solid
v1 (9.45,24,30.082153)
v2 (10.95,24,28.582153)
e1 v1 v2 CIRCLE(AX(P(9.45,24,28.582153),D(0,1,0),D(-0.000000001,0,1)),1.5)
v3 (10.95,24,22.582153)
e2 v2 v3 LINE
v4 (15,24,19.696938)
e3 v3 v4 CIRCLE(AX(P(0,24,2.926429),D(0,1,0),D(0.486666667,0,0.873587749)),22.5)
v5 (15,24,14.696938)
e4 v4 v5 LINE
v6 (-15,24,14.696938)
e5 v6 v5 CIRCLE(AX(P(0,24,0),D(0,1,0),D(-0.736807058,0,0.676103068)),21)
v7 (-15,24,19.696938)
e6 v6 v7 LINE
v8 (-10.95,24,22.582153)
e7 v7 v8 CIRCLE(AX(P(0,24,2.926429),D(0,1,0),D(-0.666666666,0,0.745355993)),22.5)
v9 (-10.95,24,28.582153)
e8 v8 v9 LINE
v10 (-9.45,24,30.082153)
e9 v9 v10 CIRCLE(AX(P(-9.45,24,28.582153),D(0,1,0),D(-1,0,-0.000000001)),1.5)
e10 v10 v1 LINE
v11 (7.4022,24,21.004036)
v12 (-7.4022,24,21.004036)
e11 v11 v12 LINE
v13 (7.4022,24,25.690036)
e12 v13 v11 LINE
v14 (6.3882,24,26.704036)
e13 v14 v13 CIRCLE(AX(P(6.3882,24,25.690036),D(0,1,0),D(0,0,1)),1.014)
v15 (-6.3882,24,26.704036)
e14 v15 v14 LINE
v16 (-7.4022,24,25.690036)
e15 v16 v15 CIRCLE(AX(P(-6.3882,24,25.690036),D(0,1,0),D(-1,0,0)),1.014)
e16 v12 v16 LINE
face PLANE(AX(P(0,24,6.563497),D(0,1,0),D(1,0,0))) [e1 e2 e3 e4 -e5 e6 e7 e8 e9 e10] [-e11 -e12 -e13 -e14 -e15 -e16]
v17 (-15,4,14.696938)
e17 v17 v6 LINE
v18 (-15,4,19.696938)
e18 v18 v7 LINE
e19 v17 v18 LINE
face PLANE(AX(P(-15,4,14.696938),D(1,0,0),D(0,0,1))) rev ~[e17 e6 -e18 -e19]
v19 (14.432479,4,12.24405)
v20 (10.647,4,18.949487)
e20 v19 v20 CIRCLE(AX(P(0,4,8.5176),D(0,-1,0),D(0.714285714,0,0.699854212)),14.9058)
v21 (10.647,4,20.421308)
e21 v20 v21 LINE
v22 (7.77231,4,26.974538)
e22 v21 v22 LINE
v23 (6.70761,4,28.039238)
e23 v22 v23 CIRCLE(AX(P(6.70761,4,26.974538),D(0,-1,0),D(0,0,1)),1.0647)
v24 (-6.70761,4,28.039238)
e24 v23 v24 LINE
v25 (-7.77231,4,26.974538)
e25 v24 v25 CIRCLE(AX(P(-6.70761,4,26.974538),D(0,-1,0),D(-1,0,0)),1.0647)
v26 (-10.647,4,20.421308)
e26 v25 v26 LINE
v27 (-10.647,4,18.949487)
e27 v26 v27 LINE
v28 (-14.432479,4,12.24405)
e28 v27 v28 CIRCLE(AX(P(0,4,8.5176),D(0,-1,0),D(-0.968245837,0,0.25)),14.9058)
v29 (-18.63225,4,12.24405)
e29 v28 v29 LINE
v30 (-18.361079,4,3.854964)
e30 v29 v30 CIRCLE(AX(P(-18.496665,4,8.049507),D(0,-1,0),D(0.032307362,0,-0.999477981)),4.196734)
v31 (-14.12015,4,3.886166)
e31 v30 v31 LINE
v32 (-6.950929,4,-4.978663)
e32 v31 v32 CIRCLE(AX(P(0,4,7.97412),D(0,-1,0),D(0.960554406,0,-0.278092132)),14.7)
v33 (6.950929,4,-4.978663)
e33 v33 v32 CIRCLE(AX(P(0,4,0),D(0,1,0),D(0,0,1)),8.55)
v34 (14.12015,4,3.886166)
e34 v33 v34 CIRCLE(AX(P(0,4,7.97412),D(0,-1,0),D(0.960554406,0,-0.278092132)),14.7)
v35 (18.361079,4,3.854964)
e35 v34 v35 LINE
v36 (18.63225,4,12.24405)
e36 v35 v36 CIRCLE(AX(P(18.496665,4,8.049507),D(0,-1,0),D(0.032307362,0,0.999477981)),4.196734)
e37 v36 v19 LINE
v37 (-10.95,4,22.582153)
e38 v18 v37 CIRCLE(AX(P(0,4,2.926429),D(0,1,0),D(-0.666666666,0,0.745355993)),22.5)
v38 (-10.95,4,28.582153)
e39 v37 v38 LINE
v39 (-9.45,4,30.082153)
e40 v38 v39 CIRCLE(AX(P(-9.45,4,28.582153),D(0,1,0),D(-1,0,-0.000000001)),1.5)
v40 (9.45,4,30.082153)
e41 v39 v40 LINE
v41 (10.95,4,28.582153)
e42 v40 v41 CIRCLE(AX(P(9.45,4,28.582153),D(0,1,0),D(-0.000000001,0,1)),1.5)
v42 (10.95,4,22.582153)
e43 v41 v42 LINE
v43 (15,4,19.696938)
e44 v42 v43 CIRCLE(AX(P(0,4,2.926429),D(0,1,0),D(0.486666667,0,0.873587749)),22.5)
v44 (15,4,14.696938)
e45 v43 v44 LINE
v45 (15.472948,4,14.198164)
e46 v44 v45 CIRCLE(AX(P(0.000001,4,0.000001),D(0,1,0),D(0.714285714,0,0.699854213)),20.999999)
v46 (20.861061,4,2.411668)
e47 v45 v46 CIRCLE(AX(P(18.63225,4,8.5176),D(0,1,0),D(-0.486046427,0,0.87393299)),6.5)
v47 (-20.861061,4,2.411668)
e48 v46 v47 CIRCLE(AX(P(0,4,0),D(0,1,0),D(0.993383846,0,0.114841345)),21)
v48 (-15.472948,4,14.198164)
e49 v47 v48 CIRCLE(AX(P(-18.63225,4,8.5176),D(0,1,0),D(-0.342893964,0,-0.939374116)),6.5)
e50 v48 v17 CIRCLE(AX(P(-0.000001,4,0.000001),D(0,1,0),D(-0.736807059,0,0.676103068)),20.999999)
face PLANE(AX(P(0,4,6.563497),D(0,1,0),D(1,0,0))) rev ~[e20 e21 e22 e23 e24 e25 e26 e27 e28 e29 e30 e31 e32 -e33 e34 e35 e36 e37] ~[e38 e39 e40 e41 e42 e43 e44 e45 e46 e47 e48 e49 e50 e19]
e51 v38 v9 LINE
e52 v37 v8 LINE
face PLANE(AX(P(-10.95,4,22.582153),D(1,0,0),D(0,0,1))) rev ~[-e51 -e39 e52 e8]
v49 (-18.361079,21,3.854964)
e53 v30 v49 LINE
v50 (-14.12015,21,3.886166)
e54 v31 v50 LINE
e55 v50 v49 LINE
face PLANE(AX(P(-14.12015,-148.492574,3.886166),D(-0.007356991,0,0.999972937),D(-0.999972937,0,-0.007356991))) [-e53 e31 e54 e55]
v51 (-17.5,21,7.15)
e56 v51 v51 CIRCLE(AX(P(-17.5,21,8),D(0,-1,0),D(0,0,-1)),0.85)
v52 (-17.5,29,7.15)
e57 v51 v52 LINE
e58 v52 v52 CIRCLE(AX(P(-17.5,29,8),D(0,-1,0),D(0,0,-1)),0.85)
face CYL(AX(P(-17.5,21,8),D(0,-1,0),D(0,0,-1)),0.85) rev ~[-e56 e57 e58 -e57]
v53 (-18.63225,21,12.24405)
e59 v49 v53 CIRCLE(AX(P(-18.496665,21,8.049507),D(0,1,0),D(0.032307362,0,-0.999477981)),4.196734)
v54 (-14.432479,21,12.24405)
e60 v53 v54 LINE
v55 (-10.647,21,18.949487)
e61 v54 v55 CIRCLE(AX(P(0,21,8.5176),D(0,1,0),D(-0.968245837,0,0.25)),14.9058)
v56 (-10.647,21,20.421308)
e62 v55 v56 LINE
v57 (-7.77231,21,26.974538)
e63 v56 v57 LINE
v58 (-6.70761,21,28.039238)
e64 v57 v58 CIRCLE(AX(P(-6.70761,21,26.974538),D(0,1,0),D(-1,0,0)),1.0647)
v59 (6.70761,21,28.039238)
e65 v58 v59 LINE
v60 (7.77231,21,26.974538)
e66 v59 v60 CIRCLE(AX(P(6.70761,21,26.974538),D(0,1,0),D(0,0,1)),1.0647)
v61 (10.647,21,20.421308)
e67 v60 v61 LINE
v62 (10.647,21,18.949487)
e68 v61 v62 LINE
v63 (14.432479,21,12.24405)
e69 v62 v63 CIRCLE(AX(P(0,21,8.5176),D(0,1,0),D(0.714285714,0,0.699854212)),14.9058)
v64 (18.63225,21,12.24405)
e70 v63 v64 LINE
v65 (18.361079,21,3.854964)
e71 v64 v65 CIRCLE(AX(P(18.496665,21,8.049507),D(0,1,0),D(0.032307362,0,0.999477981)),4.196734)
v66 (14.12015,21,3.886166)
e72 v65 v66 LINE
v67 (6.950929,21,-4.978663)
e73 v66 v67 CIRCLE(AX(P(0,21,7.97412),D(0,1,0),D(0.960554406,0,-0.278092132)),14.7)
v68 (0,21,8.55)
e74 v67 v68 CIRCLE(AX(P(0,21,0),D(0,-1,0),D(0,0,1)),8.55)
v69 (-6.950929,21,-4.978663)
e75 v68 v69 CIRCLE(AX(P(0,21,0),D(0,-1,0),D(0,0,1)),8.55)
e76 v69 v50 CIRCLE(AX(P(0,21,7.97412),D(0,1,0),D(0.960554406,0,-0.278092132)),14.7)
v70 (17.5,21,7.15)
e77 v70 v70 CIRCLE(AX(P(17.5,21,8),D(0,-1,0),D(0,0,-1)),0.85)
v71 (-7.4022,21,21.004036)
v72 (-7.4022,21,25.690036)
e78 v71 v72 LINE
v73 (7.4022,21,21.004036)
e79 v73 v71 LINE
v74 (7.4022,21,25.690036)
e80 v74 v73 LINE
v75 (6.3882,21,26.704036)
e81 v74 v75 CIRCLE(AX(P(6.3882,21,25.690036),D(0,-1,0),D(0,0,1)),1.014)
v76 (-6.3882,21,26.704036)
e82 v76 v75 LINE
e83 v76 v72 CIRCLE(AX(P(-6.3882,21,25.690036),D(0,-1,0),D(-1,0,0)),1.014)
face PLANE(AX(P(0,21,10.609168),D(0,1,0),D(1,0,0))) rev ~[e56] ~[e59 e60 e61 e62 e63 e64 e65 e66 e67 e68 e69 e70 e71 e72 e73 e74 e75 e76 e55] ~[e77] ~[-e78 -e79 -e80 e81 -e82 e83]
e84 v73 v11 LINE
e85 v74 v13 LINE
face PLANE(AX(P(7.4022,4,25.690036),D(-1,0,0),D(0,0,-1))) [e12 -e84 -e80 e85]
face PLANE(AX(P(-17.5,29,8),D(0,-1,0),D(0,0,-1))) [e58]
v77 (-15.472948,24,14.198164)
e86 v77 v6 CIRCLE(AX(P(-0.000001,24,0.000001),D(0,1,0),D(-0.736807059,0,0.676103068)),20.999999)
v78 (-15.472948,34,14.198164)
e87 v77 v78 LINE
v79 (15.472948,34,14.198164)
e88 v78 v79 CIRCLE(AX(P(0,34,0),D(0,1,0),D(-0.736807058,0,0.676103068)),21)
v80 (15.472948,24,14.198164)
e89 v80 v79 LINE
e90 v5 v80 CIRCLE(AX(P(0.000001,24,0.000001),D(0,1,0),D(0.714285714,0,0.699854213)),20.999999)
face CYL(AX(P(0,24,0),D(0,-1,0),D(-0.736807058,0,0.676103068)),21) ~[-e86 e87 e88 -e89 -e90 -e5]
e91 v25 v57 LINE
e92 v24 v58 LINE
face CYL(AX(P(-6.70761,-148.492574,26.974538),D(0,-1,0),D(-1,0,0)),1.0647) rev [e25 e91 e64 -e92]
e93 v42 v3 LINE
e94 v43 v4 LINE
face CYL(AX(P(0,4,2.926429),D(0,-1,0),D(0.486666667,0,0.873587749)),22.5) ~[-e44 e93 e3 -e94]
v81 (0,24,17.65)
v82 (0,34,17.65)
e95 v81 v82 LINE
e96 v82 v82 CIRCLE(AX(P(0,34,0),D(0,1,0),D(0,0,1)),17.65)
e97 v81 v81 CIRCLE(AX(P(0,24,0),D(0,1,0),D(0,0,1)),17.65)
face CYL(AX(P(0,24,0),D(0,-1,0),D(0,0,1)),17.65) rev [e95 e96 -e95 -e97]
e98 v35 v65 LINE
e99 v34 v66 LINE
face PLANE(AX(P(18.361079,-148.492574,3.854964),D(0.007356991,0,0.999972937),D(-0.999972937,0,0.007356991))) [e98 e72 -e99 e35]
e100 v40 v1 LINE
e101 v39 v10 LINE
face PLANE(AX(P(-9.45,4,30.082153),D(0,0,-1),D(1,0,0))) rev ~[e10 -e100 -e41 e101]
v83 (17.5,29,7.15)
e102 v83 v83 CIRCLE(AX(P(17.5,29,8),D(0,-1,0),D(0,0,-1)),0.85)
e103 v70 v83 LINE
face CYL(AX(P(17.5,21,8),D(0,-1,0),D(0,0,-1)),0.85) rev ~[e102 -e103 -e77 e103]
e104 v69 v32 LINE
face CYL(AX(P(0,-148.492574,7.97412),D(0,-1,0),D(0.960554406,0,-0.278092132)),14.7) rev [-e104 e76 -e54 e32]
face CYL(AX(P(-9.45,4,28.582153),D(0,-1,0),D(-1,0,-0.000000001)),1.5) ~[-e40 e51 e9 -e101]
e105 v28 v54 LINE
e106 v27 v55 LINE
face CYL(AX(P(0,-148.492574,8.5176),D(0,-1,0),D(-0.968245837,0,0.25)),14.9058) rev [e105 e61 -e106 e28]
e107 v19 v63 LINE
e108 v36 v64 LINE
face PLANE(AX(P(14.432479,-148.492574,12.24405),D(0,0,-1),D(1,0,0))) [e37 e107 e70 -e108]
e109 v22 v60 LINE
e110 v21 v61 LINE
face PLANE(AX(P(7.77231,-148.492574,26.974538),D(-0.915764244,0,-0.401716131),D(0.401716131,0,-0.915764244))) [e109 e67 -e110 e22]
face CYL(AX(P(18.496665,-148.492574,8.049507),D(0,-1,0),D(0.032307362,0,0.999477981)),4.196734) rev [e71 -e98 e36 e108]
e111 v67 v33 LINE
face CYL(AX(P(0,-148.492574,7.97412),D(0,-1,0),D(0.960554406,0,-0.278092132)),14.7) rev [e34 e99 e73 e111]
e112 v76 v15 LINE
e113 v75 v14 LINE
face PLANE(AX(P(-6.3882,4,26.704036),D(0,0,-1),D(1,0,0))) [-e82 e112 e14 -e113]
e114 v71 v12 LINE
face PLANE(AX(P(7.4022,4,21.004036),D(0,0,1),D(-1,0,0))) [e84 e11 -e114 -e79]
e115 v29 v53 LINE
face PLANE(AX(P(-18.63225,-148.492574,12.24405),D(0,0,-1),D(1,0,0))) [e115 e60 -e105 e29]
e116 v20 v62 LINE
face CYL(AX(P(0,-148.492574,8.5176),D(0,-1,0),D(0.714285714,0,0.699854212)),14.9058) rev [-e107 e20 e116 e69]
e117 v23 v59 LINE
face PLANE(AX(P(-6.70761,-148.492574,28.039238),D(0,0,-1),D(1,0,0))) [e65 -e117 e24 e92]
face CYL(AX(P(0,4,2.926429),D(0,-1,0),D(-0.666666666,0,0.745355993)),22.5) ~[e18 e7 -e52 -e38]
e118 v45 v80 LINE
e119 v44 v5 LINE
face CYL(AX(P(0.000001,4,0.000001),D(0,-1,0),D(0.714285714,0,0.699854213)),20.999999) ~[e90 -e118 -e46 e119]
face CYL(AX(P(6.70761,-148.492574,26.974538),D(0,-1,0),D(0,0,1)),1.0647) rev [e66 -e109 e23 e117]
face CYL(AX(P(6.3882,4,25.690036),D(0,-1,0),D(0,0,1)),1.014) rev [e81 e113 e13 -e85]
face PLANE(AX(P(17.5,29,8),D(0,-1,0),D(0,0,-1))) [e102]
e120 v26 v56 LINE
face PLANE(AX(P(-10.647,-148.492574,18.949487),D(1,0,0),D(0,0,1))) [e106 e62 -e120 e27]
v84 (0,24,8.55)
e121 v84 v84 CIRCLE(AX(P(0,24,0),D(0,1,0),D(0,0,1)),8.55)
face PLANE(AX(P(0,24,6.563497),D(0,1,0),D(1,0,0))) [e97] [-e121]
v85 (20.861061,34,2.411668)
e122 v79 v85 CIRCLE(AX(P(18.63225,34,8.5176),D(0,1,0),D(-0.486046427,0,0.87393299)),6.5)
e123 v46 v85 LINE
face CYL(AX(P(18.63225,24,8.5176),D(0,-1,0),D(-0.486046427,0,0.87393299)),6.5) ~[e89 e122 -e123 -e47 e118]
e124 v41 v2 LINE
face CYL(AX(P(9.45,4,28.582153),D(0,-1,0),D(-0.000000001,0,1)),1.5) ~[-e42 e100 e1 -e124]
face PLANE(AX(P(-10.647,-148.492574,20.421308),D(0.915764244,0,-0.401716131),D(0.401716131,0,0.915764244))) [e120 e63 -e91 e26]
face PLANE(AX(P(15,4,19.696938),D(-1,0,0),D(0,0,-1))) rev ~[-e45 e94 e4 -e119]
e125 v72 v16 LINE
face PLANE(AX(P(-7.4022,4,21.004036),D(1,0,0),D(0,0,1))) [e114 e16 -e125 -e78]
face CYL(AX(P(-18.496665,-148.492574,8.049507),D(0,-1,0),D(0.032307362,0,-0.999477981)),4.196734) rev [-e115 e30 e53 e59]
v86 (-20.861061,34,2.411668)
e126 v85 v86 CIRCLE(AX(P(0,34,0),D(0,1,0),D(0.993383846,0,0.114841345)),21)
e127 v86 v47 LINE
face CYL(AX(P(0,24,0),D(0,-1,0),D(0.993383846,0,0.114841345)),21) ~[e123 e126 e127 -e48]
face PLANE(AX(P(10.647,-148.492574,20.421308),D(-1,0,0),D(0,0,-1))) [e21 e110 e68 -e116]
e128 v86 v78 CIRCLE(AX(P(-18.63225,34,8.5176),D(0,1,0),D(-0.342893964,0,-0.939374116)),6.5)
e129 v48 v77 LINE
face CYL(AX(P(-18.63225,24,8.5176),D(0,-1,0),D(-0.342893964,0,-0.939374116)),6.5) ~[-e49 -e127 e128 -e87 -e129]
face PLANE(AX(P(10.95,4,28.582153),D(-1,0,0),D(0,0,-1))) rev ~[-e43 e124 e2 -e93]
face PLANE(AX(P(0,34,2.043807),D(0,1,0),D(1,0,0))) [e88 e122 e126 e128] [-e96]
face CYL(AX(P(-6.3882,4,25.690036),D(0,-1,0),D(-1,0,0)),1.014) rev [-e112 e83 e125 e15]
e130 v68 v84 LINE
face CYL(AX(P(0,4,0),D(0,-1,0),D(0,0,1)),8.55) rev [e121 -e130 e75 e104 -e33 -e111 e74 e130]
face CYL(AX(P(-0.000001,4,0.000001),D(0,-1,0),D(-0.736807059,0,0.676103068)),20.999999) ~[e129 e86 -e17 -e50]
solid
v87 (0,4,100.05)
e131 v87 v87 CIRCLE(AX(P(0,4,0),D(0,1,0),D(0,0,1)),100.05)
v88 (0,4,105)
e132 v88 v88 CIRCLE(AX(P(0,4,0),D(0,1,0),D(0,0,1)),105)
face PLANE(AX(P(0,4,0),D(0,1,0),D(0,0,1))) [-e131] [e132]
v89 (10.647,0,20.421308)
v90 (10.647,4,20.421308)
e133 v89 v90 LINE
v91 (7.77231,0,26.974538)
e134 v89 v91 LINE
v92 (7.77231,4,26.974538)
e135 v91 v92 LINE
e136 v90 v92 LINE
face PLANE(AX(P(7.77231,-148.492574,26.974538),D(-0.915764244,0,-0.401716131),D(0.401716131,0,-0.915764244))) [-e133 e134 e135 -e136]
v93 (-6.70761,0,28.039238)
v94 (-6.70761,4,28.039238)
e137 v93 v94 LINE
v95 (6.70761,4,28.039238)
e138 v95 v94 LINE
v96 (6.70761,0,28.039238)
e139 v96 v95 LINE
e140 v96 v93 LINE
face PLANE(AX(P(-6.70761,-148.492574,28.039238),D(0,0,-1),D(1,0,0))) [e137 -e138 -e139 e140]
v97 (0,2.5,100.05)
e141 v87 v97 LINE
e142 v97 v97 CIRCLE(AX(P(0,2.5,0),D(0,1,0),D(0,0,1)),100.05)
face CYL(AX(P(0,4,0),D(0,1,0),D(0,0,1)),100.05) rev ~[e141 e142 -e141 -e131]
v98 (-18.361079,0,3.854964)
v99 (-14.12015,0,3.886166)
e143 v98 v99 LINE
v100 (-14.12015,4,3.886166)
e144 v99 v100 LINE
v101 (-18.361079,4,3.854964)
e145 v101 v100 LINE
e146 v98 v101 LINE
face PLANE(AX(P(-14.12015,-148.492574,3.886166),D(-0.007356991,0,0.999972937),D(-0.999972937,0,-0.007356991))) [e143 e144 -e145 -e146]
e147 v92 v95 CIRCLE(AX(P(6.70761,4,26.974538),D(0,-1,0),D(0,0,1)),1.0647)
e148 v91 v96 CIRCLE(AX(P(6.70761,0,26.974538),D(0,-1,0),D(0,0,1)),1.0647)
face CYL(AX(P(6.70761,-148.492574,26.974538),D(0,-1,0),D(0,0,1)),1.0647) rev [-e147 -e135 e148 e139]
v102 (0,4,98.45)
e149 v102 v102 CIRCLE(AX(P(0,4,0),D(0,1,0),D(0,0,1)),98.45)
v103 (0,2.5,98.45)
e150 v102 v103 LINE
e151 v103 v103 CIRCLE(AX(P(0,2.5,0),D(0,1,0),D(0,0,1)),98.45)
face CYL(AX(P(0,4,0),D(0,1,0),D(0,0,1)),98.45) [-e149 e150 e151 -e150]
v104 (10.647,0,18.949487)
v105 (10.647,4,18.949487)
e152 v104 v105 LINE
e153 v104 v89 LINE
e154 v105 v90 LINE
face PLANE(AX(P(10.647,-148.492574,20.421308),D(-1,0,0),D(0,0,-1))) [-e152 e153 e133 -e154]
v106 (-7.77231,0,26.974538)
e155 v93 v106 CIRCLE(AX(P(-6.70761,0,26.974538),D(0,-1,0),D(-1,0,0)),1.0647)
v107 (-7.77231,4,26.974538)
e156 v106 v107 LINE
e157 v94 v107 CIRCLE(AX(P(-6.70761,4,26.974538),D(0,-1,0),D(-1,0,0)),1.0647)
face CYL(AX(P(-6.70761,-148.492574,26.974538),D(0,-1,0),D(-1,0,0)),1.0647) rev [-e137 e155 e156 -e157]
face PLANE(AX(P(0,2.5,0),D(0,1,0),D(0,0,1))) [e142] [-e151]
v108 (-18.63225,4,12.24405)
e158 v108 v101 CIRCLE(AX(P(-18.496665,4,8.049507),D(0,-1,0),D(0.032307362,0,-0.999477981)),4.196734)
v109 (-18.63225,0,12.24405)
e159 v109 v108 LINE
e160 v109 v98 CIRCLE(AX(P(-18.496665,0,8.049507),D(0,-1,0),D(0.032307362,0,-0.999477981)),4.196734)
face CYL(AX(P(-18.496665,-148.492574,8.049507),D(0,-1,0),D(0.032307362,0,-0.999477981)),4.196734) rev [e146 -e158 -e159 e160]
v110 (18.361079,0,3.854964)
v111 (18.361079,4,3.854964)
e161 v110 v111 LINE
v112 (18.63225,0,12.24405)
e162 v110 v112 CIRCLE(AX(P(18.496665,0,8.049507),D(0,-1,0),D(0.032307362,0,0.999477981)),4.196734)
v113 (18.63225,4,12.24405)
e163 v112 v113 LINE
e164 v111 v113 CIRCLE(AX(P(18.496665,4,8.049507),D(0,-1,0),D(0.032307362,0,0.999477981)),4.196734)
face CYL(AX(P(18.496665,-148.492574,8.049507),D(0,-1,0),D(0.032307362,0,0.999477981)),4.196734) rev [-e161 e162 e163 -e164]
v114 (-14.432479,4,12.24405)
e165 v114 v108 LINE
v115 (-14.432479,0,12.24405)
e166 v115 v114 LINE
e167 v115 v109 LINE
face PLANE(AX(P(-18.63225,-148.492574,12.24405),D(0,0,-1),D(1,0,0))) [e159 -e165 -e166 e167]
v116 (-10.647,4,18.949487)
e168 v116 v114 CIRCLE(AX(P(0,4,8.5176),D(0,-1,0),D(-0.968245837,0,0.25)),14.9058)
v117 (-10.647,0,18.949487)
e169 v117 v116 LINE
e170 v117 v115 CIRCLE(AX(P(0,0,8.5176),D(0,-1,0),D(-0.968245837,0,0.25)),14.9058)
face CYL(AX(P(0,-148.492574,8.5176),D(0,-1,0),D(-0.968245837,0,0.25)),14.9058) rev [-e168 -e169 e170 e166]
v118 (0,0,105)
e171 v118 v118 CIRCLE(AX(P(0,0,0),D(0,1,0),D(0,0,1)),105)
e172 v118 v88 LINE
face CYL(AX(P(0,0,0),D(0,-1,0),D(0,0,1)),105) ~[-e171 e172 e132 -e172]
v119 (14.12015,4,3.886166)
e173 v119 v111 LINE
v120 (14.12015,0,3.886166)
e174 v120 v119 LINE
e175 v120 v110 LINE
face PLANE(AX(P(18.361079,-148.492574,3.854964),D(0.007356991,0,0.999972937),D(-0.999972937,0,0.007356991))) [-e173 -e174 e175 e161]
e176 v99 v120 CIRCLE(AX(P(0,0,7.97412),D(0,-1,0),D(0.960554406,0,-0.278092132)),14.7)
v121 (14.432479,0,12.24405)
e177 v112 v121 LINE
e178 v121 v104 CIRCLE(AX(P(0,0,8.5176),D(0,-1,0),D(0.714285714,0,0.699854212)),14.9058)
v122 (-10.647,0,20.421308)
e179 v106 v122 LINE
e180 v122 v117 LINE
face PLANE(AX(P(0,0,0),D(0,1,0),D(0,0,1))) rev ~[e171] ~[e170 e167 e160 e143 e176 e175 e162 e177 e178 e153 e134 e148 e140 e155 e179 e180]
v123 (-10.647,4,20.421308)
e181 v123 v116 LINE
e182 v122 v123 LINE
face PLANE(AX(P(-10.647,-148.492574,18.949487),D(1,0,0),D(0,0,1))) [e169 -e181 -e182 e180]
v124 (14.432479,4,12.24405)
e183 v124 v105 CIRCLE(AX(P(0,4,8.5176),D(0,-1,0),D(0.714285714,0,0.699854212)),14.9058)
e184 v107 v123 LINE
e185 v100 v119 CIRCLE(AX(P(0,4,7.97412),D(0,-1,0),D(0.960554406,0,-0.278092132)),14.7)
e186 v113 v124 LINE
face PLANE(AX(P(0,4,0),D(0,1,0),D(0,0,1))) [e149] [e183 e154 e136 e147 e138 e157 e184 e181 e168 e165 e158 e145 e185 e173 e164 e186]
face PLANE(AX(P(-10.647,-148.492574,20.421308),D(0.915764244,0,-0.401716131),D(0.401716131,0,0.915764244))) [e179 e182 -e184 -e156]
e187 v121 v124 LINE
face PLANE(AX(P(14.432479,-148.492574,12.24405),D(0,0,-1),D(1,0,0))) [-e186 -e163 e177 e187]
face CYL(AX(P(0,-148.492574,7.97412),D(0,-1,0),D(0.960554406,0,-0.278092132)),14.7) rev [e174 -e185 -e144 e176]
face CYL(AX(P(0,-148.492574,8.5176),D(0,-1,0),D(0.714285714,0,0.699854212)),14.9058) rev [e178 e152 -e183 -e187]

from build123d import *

# Parameters (mm, degrees)
SKETCH1_R               = 105
BOSS_EXTRUDE1_DEPTH     = 4
SKETCH4_R               = 8.55
BOSS_EXTRUDE3_DEPTH     = 20
SKETCH5_R               = 17.65
BOSS_EXTRUDE4_DEPTH     = 10
CUT_EXTRUDE2_DEPTH      = 17
CUT_EXTRUDE2_DEPTH_BACK = 152.492574075
SKETCH14_R              = 100.05
SKETCH14_R_2            = 98.45
CUT_EXTRUDE3_DEPTH      = 1.5
SKETCH15_R              = 0.85
CUT_EXTRUDE4_DEPTH      = 8


with BuildPart() as part:
    # Sketch1 → Boss-Extrude1 (new body)
    with BuildSketch(Plane(origin=(0, 0, 0), x_dir=(1, 0, 0), z_dir=(0, 1, 0))):
        with Locations(Location((0, 0, 0), (0, 0, 270))):
            Circle(SKETCH1_R)
    extrude(amount=BOSS_EXTRUDE1_DEPTH)


with BuildPart() as body_2:
    # Sketch4 → Boss-Extrude3 (new body)
    with BuildSketch(Plane(origin=(0, 4, 0), x_dir=(1, 0, 0), z_dir=(0, 1, 0))):
        with BuildLine():
            Line((15, -19.696938457), (15, -14.696938457))
            ThreePointArc((15, -14.696938457), (15.238514929, -14.449486592), (15.472948223, -14.198164434))
            ThreePointArc((15.472948223, -14.198164434), (24.543834091, -11.220038442), (20.861060766, -2.411668247))
            ThreePointArc((20.861060766, -2.411668247), (0, 21), (-20.861060766, -2.411668247))
            ThreePointArc((-20.861060766, -2.411668247), (-24.543834091, -11.220038442), (-15.472948223, -14.198164434))
            ThreePointArc((-15.472948223, -14.198164434), (-15.238514929, -14.449486592), (-15, -14.696938457))
            Line((-15, -14.696938457), (-15, -19.696938457))
            ThreePointArc((-15, -19.696938457), (-13.054950812, -21.25177335), (-10.95, -22.582152982))
            Line((-10.95, -22.582152982), (-10.95, -28.582152982))
            ThreePointArc((-10.95, -28.582152982), (-10.510660172, -29.642813154), (-9.45, -30.082152982))
            Line((-9.45, -30.082152982), (9.45, -30.082152982))
            ThreePointArc((9.45, -30.082152982), (10.510660172, -29.642813154), (10.95, -28.582152982))
            Line((10.95, -28.582152982), (10.95, -22.582152982))
            ThreePointArc((10.95, -22.582152982), (13.054950812, -21.25177335), (15, -19.696938457))
        make_face()
        with Locations(Location((0, 0, 0), (0, 0, 270))):
            Circle(SKETCH4_R, mode=Mode.SUBTRACT)
        with BuildLine():
            Line((7.4022, -25.690036345), (7.4022, -21.004036345))
            Line((7.4022, -21.004036345), (-7.4022, -21.004036345))
            Line((-7.4022, -21.004036345), (-7.4022, -25.690036345))
            ThreePointArc((-7.4022, -25.690036345), (-7.105206276, -26.407042621), (-6.3882, -26.704036345))
            Line((-6.3882, -26.704036345), (6.3882, -26.704036345))
            ThreePointArc((6.3882, -26.704036345), (7.105206276, -26.407042621), (7.4022, -25.690036345))
        make_face(mode=Mode.SUBTRACT)
    extrude(amount=BOSS_EXTRUDE3_DEPTH)

    # Sketch5 → Boss-Extrude4 (add)
    with BuildSketch(Plane(origin=(0, 24, 0), x_dir=(1, 0, 0), z_dir=(0, 1, 0))):
        with BuildLine():
            ThreePointArc((-15.472948223, -14.198164434), (0, -21), (15.472948223, -14.198164434))
            ThreePointArc((15.472948223, -14.198164434), (24.543834091, -11.220038442), (20.861060766, -2.411668247))
            ThreePointArc((20.861060766, -2.411668247), (0, 21), (-20.861060766, -2.411668247))
            ThreePointArc((-20.861060766, -2.411668247), (-24.543834091, -11.220038442), (-15.472948223, -14.198164434))
        make_face()
        with Locations(Location((0, 0, 0), (0, 0, 270))):
            Circle(SKETCH5_R, mode=Mode.SUBTRACT)
    extrude(amount=BOSS_EXTRUDE4_DEPTH)


with BuildPart() as cut_extrude2_tool:
    # Sketch2 → Cut-Extrude2 (new, two sides: drawn at the far end of the back side and taken through both)
    with BuildSketch(Plane(origin=(0, 4, 0), x_dir=(1, 0, 0), z_dir=(0, 1, 0)).offset(-CUT_EXTRUDE2_DEPTH_BACK)):
        with BuildLine():
            Line((10.647, -20.421307878), (10.647, -18.949486917))
            ThreePointArc((10.647, -18.949486917), (12.980207439, -15.845429725), (14.43247879, -12.24405))
            Line((14.43247879, -12.24405), (18.63225, -12.24405))
            ThreePointArc((18.63225, -12.24405), (22.691207439, -7.913921777), (18.361079216, -3.854964338))
            Line((18.361079216, -3.854964338), (14.120149763, -3.886165663))
            ThreePointArc((14.120149763, -3.886165663), (0, 6.72588), (-14.120149763, -3.886165663))
            Line((-14.120149763, -3.886165663), (-18.361079216, -3.854964338))
            ThreePointArc((-18.361079216, -3.854964338), (-22.691207439, -7.913921777), (-18.63225, -12.24405))
            Line((-18.63225, -12.24405), (-14.43247879, -12.24405))
            ThreePointArc((-14.43247879, -12.24405), (-12.980207439, -15.845429725), (-10.647, -18.949486917))
            Line((-10.647, -18.949486917), (-10.647, -20.421307878))
            Line((-10.647, -20.421307878), (-7.77231, -26.974538162))
            ThreePointArc((-7.77231, -26.974538162), (-7.46046659, -27.727394752), (-6.70761, -28.039238162))
            Line((-6.70761, -28.039238162), (6.70761, -28.039238162))
            ThreePointArc((6.70761, -28.039238162), (7.46046659, -27.727394752), (7.77231, -26.974538162))
            Line((7.77231, -26.974538162), (10.647, -20.421307878))
        make_face()
    extrude(amount=CUT_EXTRUDE2_DEPTH + CUT_EXTRUDE2_DEPTH_BACK)


with BuildPart() as part_1:
    add(part.part)

    # Cut-Extrude2: cut by cut_extrude2_tool
    add(cut_extrude2_tool.part, mode=Mode.SUBTRACT)

    # Sketch14 → Cut-Extrude3 (cut)
    with BuildSketch(Plane(origin=(0, 4, 0), x_dir=(1, 0, 0), z_dir=(0, 1, 0))):
        with Locations(Location((0, 0, 0), (0, 0, 270))):
            Circle(SKETCH14_R)
        with Locations(Location((0, 0, 0), (0, 0, 270))):
            Circle(SKETCH14_R_2, mode=Mode.SUBTRACT)
    extrude(amount=-CUT_EXTRUDE3_DEPTH, mode=Mode.SUBTRACT)


with BuildPart() as body_2_1:
    add(body_2.part)

    # Cut-Extrude2: cut by cut_extrude2_tool
    add(cut_extrude2_tool.part, mode=Mode.SUBTRACT)

    # Sketch15 → Cut-Extrude4 (cut)
    with BuildSketch(Plane.XZ.offset(-21)):
        with Locations(Location((-17.5, 8, 0), (0, 0, 270))):
            Circle(SKETCH15_R)
        with Locations(Location((17.5, 8, 0), (0, 0, 270))):
            Circle(SKETCH15_R)
    extrude(amount=-CUT_EXTRUDE4_DEPTH, mode=Mode.SUBTRACT)


solid = Compound([part_1.part, body_2_1.part])
